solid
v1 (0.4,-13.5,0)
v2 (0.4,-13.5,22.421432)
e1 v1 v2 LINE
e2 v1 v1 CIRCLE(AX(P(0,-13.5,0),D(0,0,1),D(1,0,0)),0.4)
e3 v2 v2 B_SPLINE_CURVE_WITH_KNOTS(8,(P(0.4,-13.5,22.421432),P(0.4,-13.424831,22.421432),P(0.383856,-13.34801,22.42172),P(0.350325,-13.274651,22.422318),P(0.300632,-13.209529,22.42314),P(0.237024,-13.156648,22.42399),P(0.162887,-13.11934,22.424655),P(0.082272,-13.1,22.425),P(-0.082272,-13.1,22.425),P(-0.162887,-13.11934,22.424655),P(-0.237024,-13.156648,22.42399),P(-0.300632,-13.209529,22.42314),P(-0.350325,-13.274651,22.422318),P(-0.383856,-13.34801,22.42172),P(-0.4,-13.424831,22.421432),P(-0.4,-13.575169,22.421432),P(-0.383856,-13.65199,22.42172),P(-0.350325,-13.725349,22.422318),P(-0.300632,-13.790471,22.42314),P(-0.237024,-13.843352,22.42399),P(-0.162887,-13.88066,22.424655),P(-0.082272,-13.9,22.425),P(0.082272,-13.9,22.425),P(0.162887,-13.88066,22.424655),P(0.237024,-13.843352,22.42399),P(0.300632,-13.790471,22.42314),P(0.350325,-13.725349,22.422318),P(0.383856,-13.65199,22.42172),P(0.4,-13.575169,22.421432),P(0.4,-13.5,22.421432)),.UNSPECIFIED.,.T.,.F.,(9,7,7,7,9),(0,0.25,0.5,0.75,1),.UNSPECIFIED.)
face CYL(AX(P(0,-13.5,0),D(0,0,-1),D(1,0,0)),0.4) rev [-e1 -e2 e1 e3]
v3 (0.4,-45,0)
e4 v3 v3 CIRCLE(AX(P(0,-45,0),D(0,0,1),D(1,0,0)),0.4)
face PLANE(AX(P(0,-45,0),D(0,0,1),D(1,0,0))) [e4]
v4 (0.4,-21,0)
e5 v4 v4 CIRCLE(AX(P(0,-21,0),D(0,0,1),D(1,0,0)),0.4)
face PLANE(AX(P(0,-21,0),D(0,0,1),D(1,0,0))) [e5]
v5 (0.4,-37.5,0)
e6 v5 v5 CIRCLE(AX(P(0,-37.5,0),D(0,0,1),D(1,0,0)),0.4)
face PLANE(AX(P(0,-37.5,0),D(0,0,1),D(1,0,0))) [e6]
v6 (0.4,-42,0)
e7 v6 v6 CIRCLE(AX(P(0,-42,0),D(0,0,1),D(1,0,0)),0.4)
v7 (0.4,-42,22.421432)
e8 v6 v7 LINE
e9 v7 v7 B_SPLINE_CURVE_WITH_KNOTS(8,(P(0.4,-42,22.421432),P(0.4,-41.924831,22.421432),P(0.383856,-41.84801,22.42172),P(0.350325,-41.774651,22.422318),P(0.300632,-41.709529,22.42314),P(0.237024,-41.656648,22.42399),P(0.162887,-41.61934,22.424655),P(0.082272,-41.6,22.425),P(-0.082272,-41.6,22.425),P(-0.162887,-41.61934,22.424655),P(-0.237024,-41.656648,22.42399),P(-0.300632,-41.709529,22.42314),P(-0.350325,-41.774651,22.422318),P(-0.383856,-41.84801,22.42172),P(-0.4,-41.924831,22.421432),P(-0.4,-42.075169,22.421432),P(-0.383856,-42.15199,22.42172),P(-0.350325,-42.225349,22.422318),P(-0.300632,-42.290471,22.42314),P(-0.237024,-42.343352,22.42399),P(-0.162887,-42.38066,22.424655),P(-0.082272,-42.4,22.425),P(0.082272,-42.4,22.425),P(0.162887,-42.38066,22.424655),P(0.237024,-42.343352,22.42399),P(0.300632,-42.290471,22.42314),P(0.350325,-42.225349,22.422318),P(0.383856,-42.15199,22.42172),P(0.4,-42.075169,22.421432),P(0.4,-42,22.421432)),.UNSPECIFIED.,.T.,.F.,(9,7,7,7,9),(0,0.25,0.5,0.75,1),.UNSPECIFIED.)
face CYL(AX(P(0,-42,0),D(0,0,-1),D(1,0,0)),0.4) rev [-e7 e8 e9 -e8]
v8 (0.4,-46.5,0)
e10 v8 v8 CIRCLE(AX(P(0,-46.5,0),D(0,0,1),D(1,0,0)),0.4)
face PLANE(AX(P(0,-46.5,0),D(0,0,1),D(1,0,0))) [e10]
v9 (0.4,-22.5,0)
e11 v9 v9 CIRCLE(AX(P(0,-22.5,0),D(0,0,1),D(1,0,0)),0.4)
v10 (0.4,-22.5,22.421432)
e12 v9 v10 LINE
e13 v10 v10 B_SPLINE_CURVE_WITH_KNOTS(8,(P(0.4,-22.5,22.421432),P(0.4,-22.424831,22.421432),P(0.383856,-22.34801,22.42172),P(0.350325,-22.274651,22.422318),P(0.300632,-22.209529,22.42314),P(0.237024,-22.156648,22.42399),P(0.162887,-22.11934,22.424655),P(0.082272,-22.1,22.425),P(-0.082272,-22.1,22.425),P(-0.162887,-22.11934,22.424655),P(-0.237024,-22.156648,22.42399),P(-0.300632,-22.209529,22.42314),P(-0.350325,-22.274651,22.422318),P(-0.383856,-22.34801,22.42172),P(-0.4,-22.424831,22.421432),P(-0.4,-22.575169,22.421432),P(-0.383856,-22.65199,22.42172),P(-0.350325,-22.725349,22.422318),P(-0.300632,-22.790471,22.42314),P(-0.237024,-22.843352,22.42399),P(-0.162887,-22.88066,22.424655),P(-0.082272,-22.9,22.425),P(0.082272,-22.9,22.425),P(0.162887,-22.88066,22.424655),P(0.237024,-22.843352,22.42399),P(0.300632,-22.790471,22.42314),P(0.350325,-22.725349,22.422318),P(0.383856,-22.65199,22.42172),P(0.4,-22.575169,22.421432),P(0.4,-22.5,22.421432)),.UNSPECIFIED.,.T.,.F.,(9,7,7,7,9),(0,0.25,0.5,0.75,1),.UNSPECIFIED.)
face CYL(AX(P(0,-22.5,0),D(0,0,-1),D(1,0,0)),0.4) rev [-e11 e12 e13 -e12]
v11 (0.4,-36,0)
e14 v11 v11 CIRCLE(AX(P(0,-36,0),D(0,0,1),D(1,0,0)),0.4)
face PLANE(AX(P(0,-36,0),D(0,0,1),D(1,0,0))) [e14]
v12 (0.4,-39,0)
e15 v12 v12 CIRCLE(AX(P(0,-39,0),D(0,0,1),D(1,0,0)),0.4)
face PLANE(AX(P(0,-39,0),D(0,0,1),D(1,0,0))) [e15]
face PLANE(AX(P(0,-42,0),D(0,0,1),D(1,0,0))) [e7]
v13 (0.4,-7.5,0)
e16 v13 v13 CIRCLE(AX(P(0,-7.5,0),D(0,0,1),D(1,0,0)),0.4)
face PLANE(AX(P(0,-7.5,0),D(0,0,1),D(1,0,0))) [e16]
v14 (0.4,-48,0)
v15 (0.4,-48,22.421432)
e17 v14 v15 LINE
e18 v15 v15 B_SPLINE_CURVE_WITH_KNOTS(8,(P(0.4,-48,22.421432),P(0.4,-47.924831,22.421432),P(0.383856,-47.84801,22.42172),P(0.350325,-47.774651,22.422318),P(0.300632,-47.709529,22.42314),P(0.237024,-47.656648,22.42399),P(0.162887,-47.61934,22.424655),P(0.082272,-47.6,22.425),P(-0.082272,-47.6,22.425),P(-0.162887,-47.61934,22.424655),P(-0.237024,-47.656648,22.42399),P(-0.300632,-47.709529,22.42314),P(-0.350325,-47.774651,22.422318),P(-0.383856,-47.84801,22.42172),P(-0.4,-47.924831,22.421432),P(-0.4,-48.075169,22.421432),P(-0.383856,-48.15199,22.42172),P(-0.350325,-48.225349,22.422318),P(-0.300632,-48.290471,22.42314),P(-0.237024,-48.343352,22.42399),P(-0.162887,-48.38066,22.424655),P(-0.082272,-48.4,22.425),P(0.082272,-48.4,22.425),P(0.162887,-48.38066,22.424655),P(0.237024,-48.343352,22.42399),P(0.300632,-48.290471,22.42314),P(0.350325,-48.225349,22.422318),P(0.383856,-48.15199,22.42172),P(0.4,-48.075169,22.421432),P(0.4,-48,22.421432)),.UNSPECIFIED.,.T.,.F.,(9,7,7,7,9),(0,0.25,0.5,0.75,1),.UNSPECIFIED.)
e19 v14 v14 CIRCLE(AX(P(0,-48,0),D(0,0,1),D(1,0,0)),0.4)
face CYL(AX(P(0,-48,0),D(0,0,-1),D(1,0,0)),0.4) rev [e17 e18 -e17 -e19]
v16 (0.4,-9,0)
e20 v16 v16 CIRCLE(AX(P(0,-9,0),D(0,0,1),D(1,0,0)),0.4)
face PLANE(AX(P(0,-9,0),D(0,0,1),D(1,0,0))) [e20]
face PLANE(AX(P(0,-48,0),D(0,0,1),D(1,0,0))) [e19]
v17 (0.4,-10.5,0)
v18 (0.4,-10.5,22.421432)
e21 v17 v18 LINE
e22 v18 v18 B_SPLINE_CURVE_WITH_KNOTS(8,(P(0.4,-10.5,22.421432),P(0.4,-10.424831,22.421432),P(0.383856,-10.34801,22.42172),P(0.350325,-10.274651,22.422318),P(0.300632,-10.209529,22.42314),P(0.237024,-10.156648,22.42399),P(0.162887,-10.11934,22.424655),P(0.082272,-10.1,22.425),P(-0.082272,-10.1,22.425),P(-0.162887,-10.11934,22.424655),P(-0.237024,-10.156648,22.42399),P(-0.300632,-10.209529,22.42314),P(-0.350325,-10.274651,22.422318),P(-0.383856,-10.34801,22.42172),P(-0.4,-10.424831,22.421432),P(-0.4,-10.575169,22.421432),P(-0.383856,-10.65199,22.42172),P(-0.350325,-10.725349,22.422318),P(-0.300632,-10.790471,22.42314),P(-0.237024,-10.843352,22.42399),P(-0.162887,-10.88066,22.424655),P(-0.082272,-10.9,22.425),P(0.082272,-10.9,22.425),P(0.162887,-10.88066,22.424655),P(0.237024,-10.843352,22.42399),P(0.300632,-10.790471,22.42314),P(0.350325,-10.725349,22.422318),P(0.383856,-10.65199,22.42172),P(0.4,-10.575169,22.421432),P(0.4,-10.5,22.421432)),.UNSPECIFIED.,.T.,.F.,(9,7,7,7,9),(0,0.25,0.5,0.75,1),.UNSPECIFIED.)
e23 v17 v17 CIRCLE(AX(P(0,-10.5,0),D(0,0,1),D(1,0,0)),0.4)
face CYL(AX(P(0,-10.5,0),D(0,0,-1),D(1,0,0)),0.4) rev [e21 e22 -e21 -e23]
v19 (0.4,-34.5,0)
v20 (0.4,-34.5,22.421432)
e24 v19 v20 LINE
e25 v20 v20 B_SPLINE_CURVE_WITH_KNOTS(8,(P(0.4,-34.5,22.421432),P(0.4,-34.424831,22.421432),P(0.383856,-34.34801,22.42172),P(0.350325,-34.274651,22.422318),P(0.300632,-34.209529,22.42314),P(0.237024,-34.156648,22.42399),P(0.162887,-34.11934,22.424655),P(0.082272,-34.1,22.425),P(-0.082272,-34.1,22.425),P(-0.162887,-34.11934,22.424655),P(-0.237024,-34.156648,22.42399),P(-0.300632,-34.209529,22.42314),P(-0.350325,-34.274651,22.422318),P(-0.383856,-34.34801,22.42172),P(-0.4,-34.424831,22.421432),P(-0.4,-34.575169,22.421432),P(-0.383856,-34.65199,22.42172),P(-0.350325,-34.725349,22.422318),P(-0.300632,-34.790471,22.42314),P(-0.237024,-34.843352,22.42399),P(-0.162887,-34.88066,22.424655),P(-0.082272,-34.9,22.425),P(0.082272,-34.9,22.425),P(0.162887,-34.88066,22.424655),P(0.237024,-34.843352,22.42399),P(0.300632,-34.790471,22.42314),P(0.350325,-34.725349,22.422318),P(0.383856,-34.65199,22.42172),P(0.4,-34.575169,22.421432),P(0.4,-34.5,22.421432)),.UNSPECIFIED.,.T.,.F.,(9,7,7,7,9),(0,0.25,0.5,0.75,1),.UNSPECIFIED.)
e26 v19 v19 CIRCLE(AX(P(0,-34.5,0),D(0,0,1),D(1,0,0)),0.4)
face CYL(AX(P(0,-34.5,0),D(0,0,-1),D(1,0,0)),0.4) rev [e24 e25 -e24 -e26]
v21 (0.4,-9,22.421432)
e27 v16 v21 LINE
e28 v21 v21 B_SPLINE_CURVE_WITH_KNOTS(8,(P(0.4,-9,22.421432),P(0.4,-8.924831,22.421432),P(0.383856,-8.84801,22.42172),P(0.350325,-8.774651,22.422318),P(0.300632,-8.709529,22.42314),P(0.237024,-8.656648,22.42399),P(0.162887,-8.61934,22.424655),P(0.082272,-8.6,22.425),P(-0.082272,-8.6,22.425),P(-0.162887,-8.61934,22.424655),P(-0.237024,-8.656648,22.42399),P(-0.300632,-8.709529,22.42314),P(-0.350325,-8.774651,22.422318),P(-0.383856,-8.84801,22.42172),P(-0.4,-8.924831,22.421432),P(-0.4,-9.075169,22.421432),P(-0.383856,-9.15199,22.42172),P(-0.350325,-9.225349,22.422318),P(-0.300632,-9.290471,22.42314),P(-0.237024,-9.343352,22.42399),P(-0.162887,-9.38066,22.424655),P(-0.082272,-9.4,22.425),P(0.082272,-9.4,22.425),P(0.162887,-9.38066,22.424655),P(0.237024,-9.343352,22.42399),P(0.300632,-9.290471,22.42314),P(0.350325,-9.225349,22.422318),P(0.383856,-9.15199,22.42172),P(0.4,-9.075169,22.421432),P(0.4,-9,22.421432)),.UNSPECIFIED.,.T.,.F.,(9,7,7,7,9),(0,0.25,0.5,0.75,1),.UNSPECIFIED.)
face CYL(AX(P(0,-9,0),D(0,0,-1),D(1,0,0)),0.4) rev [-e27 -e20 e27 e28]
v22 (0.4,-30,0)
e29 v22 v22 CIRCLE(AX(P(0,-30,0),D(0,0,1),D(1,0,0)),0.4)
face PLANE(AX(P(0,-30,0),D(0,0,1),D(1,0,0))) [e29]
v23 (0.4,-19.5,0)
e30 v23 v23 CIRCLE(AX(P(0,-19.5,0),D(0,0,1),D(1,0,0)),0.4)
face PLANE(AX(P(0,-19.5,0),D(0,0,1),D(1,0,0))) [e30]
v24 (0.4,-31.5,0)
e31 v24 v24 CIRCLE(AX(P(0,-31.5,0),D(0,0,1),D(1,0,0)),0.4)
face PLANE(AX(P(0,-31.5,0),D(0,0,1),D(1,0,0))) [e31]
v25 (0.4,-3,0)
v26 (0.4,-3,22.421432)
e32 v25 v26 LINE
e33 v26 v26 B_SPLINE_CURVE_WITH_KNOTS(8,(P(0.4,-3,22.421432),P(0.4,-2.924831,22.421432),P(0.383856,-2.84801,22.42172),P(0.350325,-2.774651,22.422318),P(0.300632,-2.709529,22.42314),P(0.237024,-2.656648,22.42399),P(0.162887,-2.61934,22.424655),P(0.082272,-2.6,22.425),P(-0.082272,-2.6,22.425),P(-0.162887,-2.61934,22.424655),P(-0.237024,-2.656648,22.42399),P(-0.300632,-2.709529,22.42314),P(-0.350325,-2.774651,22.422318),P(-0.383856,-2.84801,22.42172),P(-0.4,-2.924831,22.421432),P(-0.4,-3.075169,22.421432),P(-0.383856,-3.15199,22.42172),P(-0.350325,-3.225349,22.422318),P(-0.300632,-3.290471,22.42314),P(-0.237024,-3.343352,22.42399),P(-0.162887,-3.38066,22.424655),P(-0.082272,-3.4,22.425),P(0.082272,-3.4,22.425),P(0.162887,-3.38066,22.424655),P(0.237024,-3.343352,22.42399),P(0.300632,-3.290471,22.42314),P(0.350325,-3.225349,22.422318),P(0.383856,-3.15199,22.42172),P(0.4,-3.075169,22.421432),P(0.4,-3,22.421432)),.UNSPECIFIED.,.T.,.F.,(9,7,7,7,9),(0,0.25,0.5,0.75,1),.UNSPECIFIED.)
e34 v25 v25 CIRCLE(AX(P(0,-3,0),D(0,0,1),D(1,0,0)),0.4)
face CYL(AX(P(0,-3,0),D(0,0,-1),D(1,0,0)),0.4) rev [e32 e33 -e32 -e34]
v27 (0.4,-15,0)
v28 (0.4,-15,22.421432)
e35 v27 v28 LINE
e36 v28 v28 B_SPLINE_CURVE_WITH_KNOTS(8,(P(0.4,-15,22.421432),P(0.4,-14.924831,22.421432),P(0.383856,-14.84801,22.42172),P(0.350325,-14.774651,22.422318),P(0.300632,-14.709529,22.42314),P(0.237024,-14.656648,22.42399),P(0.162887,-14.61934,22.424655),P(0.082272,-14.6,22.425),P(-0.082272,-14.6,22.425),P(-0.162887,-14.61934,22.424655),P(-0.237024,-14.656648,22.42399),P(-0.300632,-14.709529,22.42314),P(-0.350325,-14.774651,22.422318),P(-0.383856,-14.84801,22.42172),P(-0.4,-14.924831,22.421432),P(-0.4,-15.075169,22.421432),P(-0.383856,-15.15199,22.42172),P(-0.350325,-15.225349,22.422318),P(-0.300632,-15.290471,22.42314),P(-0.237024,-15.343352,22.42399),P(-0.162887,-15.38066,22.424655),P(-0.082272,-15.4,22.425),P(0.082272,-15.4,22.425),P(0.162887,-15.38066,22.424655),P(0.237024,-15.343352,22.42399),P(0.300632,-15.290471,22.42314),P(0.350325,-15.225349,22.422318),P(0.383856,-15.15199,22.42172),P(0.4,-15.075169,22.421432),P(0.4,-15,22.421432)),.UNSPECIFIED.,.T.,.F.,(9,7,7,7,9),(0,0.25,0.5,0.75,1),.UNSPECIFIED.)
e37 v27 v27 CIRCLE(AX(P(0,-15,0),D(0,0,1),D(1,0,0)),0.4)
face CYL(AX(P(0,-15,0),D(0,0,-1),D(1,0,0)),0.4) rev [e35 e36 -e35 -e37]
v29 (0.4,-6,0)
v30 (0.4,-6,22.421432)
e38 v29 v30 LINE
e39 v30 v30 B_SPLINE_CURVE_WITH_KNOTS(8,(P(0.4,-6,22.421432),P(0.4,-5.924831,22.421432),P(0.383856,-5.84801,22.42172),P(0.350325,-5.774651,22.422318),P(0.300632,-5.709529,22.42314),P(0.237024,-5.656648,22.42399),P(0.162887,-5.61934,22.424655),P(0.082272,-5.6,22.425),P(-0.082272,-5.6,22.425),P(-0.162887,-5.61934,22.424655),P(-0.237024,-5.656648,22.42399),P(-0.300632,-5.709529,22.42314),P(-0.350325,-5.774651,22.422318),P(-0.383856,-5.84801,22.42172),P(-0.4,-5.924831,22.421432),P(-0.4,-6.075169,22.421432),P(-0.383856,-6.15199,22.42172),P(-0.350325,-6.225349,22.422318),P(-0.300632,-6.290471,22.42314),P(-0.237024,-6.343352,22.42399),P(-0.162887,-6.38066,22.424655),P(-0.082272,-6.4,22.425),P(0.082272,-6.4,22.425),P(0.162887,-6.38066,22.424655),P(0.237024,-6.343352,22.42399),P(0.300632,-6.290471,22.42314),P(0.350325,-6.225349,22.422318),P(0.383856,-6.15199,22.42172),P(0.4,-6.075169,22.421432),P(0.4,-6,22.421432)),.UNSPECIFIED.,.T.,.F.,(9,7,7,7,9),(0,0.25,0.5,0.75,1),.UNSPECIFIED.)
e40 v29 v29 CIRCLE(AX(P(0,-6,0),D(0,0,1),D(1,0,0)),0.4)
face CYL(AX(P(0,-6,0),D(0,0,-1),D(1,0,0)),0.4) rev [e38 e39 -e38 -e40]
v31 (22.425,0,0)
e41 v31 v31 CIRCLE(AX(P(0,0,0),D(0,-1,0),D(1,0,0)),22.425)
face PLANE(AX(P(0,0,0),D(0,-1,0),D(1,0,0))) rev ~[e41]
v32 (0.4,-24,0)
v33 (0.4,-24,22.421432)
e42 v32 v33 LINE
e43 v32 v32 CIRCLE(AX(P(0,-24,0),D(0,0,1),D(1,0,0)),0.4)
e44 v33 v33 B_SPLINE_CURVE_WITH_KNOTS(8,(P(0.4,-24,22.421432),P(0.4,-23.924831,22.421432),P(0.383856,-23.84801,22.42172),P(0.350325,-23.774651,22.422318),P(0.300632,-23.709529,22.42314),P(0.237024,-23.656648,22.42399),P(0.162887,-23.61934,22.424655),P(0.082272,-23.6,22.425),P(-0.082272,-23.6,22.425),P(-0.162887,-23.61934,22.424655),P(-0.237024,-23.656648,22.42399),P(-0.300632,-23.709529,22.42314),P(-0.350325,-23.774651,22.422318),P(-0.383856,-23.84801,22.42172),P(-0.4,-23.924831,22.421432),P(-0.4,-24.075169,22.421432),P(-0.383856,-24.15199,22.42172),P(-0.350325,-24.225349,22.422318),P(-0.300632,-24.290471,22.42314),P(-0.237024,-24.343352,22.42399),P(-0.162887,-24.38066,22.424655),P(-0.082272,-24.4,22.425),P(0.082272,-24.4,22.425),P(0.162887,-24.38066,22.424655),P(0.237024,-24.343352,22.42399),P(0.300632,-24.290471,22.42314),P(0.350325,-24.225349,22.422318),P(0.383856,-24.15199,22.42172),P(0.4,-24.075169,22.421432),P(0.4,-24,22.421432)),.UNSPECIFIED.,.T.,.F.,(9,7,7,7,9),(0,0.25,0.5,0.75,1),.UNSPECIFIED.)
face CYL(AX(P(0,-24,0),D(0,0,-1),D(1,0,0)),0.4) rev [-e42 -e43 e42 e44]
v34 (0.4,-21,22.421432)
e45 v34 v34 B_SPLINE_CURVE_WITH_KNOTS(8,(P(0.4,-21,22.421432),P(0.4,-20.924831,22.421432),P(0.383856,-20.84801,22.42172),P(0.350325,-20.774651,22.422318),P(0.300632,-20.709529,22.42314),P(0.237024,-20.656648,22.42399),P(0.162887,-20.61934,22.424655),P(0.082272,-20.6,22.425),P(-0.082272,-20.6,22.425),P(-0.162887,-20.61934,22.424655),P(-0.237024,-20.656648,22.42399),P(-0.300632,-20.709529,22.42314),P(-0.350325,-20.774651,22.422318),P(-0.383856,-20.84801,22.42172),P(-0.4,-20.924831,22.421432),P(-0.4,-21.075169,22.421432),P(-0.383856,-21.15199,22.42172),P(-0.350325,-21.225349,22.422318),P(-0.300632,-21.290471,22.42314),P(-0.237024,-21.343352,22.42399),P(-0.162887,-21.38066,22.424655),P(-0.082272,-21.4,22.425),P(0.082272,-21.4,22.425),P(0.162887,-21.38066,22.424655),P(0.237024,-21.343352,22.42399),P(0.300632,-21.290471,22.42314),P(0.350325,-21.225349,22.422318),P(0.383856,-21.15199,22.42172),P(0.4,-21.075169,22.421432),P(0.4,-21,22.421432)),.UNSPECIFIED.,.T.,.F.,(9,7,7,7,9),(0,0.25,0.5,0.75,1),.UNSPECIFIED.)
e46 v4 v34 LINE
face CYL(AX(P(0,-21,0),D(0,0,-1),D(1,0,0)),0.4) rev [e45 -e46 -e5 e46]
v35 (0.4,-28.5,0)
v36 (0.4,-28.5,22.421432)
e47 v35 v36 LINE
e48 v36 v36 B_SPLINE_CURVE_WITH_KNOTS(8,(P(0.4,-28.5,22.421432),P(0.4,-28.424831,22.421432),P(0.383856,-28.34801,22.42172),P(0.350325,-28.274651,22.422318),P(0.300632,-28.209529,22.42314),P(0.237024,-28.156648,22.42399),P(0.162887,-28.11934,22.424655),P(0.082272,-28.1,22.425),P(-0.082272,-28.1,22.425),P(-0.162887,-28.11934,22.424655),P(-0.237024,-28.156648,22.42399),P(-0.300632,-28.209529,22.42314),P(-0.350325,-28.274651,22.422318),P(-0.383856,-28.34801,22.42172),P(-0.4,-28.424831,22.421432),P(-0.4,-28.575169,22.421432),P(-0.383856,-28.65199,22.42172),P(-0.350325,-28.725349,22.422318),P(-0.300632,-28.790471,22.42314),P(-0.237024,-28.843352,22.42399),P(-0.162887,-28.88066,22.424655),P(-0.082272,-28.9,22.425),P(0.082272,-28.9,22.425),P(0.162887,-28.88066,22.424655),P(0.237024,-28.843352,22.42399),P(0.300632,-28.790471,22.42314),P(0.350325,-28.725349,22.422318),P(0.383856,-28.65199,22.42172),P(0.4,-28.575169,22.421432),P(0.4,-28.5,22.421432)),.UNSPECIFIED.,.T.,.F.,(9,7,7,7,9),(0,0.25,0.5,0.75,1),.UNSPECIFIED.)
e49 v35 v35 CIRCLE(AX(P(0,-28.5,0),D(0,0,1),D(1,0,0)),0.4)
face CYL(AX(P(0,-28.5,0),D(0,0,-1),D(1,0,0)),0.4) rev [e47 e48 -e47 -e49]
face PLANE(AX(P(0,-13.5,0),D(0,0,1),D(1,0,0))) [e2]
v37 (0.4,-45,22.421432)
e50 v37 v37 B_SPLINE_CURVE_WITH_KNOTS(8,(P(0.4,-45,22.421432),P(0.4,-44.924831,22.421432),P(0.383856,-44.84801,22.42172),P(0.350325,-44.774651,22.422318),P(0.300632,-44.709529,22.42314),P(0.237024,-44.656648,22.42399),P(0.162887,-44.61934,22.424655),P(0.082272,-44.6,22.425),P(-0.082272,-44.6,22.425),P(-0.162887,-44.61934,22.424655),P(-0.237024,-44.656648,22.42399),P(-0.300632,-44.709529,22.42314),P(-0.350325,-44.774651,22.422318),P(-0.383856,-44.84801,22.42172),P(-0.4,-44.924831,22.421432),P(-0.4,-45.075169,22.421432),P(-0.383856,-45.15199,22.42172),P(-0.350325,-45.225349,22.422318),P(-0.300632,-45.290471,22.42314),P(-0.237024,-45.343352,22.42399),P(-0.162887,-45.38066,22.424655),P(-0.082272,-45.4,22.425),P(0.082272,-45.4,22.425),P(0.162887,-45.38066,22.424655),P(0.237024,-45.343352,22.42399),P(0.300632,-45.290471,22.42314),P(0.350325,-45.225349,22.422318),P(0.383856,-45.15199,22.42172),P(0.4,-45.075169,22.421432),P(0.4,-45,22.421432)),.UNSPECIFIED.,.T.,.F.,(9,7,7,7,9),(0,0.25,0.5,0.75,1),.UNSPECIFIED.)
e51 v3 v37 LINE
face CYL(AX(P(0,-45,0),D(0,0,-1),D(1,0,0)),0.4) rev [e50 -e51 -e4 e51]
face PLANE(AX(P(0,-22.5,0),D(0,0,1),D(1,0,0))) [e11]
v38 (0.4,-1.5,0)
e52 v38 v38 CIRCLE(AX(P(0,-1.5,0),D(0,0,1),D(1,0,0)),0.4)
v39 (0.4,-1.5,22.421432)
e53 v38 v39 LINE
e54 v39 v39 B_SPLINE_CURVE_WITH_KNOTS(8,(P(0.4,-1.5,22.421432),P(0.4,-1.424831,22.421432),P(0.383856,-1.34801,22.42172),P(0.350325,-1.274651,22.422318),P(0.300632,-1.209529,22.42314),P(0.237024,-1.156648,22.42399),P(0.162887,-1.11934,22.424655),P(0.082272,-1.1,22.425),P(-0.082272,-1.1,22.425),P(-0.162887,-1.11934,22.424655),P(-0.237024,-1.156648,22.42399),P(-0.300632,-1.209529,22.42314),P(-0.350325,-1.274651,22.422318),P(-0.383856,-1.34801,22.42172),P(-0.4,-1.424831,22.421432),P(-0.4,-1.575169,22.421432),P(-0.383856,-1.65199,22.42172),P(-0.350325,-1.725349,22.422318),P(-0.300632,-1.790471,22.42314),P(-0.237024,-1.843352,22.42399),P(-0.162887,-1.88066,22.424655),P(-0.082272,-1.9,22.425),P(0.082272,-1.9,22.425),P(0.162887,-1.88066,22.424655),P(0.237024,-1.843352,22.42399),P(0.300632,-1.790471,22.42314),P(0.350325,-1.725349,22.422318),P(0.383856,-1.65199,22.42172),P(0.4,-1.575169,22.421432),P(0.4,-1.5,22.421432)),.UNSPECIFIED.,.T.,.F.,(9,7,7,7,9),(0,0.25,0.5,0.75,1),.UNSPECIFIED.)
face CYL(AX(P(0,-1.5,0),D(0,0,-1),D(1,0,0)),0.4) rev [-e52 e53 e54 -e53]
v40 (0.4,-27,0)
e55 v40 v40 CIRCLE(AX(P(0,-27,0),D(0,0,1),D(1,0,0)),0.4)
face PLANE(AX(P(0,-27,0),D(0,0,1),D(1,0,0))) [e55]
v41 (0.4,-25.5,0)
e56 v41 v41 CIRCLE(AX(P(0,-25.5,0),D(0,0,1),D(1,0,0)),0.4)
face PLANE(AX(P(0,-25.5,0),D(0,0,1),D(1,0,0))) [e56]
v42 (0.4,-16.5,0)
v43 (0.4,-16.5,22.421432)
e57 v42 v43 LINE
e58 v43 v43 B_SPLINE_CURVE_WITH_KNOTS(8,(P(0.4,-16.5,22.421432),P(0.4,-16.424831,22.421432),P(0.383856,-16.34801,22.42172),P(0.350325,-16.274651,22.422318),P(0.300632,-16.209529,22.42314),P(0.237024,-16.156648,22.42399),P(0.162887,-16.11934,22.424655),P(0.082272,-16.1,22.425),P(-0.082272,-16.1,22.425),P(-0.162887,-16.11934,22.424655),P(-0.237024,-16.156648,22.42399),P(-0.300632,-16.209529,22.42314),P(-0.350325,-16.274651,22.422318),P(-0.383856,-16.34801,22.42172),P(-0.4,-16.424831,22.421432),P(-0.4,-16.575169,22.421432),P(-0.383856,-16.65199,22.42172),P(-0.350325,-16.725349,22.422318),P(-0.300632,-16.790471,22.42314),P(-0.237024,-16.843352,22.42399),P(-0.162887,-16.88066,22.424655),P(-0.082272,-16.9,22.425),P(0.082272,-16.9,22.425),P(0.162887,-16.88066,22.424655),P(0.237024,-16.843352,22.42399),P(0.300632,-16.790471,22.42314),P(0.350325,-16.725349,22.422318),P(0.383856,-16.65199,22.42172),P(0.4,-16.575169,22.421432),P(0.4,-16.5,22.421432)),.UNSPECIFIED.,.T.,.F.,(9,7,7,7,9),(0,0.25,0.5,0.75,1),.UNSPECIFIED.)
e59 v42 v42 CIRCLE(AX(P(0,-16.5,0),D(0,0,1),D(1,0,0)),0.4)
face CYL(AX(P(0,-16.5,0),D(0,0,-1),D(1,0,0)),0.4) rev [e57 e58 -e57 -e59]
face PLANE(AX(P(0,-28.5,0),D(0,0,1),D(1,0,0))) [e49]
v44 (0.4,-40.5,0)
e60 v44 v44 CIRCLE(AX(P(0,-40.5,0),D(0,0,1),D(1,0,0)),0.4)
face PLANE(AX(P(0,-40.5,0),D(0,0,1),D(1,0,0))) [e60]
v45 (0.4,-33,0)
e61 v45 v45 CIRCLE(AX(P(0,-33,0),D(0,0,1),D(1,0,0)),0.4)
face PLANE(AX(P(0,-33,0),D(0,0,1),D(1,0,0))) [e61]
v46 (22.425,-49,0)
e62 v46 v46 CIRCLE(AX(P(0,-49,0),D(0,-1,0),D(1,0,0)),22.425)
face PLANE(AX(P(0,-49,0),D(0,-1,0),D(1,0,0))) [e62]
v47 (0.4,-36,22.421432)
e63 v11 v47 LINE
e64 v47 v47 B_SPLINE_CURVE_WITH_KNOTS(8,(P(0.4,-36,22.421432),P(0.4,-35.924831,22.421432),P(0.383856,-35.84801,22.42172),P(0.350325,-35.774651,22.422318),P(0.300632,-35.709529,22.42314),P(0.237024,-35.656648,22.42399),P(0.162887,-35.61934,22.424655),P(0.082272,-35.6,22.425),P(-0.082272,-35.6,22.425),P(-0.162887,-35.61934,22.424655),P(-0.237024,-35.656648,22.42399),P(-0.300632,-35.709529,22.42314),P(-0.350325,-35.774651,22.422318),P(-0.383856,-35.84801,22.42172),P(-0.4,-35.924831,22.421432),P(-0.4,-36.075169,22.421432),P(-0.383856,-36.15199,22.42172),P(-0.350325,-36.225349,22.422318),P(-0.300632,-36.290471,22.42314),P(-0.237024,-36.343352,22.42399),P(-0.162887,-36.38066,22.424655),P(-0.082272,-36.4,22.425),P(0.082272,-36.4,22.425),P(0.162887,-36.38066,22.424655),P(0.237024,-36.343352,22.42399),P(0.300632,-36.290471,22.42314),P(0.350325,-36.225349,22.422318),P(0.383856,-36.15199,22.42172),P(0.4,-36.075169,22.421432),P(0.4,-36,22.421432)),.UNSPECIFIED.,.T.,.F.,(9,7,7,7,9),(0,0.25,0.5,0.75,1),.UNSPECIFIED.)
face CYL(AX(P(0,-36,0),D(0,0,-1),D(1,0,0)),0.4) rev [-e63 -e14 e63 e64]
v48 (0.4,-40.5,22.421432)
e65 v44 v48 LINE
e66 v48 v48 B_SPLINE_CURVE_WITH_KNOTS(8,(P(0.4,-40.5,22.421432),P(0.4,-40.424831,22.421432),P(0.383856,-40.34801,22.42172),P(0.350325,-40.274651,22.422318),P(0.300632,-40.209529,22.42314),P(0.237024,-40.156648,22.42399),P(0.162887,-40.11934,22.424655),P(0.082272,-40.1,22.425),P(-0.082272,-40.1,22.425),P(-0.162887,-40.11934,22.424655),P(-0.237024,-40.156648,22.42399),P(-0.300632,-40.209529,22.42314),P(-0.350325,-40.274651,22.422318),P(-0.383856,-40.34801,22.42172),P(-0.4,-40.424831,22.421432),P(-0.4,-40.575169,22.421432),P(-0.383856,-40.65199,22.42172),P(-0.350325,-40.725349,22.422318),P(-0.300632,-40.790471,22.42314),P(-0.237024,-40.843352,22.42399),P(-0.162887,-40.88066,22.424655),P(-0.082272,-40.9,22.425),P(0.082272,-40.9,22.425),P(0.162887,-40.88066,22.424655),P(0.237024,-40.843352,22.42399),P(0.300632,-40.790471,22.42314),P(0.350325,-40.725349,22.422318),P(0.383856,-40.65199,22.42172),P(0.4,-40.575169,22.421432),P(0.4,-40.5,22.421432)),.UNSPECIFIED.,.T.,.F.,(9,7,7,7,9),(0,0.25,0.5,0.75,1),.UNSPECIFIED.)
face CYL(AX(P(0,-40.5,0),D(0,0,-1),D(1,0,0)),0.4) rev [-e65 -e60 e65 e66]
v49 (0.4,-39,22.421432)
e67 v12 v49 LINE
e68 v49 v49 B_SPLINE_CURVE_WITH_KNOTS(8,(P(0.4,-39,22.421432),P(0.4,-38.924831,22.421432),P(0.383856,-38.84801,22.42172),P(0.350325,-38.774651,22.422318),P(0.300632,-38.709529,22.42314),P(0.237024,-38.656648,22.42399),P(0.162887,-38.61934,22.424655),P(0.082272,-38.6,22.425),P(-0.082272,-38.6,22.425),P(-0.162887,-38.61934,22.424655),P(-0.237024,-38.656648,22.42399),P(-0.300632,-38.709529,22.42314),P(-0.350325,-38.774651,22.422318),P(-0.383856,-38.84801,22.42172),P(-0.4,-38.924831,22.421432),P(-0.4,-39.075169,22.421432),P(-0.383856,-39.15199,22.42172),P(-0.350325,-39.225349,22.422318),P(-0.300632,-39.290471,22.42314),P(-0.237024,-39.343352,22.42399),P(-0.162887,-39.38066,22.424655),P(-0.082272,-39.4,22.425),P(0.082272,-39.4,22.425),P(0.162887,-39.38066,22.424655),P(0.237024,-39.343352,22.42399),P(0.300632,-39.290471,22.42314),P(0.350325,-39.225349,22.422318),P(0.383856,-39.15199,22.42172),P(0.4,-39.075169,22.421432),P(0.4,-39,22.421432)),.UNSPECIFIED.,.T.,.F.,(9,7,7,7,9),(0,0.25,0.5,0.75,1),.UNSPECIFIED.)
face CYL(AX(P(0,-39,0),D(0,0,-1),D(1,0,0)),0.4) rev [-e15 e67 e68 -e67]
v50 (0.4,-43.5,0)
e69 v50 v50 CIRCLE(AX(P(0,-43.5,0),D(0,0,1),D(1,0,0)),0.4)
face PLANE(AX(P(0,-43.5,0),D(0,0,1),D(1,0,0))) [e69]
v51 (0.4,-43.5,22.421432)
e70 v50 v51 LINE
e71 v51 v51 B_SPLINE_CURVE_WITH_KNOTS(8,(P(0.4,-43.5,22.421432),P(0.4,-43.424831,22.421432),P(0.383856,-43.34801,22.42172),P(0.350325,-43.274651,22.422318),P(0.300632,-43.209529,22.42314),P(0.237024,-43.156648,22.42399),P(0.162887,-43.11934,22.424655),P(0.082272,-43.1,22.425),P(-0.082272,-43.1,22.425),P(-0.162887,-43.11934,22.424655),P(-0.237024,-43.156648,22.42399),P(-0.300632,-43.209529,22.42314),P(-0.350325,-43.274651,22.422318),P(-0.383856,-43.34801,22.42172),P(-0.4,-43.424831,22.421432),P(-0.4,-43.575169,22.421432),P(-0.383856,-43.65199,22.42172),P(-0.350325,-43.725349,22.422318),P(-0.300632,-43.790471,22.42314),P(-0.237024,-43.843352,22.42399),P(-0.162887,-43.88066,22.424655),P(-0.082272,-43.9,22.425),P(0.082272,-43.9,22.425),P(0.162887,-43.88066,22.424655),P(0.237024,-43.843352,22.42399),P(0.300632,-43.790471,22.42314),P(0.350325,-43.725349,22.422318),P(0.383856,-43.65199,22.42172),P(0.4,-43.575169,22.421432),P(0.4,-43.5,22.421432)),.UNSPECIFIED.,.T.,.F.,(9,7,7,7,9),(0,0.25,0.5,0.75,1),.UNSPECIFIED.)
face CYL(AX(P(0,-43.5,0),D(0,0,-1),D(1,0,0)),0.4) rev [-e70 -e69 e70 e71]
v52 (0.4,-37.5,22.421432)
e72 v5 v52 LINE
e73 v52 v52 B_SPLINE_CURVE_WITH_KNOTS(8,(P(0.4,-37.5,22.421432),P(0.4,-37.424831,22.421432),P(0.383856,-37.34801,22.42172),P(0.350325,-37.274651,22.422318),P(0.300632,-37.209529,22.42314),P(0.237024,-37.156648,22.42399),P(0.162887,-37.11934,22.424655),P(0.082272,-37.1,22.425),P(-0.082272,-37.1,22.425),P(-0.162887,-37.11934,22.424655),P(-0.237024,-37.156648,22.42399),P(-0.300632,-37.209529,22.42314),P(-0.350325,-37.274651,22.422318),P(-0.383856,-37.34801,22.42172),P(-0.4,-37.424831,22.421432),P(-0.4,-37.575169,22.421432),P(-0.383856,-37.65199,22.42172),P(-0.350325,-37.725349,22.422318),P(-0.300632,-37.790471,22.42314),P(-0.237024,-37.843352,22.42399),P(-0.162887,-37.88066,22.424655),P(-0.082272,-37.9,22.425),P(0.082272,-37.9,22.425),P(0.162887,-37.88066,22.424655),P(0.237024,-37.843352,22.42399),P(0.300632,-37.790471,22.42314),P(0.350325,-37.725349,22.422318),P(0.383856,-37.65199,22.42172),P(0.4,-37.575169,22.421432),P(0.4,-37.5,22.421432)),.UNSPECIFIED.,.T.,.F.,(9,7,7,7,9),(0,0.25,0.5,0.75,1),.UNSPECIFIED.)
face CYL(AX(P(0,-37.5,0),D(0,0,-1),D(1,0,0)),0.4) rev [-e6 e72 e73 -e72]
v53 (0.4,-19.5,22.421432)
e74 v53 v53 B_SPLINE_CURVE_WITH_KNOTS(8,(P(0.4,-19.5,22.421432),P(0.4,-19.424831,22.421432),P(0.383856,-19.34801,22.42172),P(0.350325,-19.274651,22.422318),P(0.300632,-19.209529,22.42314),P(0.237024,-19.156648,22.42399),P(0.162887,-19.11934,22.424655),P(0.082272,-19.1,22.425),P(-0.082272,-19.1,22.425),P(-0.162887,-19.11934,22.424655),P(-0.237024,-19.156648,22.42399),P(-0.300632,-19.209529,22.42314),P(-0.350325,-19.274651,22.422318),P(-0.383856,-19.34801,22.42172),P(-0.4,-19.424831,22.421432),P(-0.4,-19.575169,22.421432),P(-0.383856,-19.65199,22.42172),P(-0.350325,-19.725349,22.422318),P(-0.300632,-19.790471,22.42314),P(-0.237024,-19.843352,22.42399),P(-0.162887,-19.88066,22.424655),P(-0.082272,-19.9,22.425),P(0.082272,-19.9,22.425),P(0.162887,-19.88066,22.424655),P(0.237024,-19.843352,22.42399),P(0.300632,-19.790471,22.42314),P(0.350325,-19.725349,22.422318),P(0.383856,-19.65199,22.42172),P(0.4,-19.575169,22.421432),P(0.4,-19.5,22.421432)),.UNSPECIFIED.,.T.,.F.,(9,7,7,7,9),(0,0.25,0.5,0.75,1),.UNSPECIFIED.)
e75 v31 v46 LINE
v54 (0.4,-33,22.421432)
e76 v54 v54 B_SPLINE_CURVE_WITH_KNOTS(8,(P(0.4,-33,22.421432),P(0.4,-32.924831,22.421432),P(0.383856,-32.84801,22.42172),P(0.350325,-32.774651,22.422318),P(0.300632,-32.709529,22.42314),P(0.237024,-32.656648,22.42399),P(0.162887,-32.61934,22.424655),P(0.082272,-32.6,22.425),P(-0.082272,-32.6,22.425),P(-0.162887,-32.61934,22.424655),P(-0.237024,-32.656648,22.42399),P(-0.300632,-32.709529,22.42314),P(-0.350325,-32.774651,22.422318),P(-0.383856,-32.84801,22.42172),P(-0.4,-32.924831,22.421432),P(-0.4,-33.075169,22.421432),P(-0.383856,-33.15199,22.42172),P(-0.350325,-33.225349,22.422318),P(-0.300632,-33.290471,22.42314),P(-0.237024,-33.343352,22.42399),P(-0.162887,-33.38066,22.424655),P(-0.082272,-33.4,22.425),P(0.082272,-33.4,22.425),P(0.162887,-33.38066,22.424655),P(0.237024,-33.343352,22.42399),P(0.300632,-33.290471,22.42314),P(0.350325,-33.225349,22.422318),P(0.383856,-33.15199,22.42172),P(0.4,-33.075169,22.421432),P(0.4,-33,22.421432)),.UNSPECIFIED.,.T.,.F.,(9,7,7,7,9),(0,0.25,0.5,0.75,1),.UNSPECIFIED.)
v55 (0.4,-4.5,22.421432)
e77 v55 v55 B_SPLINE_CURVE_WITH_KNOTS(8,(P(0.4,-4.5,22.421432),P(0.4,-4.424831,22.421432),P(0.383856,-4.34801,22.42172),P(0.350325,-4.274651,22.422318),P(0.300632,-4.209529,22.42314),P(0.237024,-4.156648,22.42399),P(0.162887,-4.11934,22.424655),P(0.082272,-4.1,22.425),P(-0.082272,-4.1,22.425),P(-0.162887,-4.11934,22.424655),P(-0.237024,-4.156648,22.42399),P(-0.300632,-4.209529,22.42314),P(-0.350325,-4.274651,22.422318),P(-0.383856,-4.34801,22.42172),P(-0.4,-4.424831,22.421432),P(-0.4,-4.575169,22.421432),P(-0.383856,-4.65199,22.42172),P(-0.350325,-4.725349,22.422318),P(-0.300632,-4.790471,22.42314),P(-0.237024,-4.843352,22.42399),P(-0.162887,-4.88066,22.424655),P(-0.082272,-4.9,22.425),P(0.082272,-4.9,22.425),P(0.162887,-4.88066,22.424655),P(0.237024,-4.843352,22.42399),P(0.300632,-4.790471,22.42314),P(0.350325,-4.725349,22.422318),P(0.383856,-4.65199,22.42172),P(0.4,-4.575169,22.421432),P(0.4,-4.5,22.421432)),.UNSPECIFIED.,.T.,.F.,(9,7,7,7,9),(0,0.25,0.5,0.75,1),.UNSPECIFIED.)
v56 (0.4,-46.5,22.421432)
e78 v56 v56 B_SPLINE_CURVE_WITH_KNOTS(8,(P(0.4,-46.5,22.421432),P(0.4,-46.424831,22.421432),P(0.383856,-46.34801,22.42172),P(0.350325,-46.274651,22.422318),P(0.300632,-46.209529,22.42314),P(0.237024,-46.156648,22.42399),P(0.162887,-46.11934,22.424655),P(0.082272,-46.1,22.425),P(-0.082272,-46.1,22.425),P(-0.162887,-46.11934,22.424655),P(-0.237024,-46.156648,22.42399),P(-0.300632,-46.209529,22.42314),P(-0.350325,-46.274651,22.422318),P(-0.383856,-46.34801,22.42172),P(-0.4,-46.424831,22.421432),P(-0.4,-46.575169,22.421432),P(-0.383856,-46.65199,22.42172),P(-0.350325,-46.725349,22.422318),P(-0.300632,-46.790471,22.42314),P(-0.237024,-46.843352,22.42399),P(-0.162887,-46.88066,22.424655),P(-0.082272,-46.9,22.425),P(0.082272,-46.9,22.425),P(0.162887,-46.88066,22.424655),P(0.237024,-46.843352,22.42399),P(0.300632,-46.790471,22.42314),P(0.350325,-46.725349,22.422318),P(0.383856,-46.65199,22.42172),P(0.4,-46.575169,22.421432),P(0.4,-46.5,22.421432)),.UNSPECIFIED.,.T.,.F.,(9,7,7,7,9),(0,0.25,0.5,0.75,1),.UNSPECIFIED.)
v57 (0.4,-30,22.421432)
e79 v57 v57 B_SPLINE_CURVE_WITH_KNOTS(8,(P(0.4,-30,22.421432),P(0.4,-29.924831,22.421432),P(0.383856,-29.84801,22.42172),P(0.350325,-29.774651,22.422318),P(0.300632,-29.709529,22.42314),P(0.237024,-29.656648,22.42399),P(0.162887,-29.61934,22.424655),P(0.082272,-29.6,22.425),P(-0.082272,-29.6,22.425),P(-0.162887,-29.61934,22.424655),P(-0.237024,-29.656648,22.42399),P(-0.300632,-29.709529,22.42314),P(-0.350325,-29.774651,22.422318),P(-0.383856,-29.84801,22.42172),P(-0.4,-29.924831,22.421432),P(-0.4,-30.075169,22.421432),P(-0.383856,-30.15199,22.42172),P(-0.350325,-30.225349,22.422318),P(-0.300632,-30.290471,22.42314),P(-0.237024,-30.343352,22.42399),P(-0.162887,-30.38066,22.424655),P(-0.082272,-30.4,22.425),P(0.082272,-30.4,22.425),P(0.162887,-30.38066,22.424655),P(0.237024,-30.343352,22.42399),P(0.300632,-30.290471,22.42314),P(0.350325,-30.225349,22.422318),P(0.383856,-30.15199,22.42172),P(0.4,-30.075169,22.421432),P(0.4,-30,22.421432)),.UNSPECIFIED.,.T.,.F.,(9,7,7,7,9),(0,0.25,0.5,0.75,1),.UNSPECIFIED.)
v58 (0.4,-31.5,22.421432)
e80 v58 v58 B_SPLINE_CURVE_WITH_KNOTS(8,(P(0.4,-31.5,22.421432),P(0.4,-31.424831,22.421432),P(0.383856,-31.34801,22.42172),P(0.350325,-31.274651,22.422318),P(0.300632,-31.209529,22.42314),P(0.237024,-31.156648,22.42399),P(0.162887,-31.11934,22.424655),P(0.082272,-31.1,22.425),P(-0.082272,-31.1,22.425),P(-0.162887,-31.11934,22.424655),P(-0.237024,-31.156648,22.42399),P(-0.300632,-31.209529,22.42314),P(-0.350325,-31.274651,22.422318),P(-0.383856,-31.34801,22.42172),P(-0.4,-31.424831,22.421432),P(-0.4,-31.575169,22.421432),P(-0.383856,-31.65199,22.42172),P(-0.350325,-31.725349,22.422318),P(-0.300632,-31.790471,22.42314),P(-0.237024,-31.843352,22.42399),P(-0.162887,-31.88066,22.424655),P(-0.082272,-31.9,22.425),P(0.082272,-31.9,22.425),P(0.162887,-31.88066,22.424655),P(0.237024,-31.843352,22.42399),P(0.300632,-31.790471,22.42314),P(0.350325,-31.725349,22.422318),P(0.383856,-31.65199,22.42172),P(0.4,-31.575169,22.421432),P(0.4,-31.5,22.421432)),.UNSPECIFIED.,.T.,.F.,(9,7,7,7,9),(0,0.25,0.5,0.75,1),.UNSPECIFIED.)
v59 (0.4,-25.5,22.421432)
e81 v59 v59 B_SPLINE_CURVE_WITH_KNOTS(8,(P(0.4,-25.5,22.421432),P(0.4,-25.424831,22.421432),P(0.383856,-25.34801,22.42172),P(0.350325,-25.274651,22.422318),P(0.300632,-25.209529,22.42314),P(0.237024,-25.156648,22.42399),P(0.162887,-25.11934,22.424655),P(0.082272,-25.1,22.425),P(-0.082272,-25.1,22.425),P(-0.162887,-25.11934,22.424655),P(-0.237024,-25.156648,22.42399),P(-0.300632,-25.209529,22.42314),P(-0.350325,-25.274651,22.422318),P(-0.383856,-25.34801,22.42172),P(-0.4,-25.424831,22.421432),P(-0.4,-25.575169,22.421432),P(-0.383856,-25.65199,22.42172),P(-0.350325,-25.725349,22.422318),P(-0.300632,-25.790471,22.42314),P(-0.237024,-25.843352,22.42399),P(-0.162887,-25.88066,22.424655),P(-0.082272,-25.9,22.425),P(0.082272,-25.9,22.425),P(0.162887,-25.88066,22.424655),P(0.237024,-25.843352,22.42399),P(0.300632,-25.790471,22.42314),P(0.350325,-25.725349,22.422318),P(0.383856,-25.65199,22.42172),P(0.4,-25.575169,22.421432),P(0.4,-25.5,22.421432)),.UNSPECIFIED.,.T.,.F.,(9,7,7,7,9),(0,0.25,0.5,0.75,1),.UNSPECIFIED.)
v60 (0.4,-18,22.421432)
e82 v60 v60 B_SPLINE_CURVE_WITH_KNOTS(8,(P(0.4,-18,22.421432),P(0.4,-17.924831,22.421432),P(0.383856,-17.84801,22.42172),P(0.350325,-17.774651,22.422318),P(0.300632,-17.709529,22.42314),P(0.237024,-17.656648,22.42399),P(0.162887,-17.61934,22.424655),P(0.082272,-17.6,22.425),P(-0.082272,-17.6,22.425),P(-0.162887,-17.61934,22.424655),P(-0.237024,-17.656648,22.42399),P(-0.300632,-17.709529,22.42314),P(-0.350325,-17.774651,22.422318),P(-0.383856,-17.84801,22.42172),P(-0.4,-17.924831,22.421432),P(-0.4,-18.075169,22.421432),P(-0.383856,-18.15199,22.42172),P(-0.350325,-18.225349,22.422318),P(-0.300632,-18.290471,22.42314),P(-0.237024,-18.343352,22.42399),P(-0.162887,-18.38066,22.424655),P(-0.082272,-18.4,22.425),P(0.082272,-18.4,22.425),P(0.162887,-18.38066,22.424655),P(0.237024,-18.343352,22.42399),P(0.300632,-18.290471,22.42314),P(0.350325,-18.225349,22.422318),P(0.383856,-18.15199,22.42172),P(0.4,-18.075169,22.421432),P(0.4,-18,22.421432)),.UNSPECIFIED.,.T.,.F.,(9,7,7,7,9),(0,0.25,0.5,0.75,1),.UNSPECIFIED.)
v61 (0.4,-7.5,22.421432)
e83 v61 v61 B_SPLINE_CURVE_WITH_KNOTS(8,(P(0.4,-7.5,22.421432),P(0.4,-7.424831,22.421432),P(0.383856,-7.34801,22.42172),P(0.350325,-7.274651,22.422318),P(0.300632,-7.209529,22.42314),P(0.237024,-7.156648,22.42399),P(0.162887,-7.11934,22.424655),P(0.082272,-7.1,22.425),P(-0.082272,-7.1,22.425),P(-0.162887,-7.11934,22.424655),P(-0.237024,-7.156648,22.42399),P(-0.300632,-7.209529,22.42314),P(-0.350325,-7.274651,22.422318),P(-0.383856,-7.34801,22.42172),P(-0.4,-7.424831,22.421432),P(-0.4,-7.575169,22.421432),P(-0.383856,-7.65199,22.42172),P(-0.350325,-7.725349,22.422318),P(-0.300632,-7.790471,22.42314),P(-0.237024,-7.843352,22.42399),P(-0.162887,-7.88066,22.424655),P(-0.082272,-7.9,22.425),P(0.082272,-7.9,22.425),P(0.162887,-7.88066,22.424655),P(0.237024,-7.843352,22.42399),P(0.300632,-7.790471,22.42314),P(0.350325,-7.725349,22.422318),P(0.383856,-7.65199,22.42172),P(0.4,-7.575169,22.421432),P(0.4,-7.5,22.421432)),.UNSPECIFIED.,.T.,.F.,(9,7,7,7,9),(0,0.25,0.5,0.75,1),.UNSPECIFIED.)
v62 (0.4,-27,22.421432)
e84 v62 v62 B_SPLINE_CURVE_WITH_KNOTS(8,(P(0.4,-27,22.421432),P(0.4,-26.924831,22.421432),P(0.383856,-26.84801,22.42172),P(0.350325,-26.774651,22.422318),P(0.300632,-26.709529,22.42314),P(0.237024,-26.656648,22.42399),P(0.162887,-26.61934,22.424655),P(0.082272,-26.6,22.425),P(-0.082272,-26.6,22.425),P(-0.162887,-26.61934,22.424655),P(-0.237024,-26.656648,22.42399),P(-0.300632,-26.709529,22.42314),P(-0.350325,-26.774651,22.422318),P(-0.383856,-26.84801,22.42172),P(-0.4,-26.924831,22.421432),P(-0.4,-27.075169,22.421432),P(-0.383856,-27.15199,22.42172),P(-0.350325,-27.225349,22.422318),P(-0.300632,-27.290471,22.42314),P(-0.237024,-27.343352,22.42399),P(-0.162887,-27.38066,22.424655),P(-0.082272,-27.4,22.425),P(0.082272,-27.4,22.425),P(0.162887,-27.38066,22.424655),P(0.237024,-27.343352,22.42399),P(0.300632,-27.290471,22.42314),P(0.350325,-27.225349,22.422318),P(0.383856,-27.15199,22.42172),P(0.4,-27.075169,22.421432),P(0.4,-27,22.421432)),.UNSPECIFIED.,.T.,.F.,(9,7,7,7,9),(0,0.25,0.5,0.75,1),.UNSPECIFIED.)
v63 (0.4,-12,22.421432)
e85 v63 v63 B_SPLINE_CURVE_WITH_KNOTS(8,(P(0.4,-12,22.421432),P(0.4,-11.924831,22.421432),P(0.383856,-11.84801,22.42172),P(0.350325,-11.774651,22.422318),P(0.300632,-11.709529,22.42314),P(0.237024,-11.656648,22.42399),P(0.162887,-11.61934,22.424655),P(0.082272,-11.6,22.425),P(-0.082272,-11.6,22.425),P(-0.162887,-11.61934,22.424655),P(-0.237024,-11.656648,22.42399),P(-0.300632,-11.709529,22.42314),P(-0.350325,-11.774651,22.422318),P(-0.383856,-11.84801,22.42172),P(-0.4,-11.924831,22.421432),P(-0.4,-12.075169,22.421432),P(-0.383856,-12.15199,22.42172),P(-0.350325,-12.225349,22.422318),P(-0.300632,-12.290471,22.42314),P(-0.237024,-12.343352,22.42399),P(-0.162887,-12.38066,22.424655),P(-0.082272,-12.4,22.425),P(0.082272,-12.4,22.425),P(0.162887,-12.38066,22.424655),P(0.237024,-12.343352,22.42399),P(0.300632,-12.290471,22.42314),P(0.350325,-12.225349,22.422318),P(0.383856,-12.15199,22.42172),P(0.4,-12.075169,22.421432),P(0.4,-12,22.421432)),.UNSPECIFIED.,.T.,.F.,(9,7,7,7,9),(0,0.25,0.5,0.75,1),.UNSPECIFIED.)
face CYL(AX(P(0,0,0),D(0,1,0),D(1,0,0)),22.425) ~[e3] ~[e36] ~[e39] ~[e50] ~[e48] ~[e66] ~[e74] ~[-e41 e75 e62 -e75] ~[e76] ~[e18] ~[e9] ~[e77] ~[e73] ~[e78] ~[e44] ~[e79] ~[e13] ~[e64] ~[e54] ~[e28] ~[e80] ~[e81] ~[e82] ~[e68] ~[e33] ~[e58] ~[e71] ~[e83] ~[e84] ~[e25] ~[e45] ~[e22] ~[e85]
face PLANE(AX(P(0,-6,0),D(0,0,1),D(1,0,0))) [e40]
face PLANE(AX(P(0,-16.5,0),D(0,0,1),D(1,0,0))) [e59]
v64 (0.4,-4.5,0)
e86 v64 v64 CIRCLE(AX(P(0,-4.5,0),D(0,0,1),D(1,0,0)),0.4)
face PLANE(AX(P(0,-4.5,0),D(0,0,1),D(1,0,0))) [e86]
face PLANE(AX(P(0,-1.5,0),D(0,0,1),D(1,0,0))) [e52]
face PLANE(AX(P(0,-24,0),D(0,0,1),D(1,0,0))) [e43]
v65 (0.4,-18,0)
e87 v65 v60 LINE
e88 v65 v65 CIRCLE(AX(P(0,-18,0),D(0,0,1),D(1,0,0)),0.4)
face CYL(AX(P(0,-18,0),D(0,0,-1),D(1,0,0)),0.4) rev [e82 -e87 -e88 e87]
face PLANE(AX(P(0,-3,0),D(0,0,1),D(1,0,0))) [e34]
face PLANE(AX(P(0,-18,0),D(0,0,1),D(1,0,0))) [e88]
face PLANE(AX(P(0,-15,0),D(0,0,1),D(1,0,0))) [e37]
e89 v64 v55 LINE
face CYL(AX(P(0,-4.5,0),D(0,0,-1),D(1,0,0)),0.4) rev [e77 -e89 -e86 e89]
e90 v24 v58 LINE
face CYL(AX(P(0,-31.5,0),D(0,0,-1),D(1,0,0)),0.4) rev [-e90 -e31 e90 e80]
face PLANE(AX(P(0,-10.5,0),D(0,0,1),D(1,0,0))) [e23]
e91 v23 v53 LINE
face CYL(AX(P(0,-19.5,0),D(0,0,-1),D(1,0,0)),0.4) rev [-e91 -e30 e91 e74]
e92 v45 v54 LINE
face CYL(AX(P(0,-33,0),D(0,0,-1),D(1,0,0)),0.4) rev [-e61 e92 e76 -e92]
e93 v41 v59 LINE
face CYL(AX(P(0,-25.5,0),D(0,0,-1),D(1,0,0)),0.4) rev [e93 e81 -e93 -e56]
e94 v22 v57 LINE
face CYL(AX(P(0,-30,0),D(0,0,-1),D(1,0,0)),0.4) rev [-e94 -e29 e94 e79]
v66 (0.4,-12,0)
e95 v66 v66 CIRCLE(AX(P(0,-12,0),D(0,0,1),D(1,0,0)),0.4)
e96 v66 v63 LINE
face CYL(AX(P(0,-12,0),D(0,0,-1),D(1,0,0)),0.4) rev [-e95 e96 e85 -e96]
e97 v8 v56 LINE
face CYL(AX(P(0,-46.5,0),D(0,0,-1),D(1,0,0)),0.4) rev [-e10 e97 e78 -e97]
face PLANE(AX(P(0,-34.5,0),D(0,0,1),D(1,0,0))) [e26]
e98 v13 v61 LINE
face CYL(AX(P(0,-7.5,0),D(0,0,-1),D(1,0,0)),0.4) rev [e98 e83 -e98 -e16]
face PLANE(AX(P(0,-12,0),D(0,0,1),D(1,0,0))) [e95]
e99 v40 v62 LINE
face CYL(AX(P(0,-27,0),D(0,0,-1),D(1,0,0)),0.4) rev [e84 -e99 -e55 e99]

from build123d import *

# Parameters (mm, degrees)
F0_R     = 22.425
F1_DEPTH = 49
F2_R     = 0.4
F3_DEPTH = 31


with BuildPart() as f1:
    # F0 (on Front) → F1 (new body)
    with BuildSketch(Plane.XZ):
        Circle(F0_R)
    extrude(amount=F1_DEPTH)

    # F2 (on Top) → F3 (cut)
    with BuildSketch(Plane.XY):
        with Locations((0, -1.5)):
            Circle(F2_R)
        with Locations((0, -3)):
            Circle(F2_R)
        with Locations((0, -4.5)):
            Circle(F2_R)
        with Locations((0, -6)):
            Circle(F2_R)
        with Locations((0, -7.5)):
            Circle(F2_R)
        with Locations((0, -9)):
            Circle(F2_R)
        with Locations((0, -10.5)):
            Circle(F2_R)
        with Locations((0, -12)):
            Circle(F2_R)
        with Locations((0, -13.5)):
            Circle(F2_R)
        with Locations((0, -15)):
            Circle(F2_R)
        with Locations((0, -16.5)):
            Circle(F2_R)
        with Locations((0, -18)):
            Circle(F2_R)
        with Locations((0, -19.5)):
            Circle(F2_R)
        with Locations((0, -21)):
            Circle(F2_R)
        with Locations((0, -22.5)):
            Circle(F2_R)
        with Locations((0, -24)):
            Circle(F2_R)
        with Locations((0, -25.5)):
            Circle(F2_R)
        with Locations((0, -27)):
            Circle(F2_R)
        with Locations((0, -28.5)):
            Circle(F2_R)
        with Locations((0, -30)):
            Circle(F2_R)
        with Locations((0, -31.5)):
            Circle(F2_R)
        with Locations((0, -33)):
            Circle(F2_R)
        with Locations((0, -34.5)):
            Circle(F2_R)
        with Locations((0, -36)):
            Circle(F2_R)
        with Locations((0, -37.5)):
            Circle(F2_R)
        with Locations((0, -39)):
            Circle(F2_R)
        with Locations((0, -40.5)):
            Circle(F2_R)
        with Locations((0, -42)):
            Circle(F2_R)
        with Locations((0, -43.5)):
            Circle(F2_R)
        with Locations((0, -45)):
            Circle(F2_R)
        with Locations((0, -46.5)):
            Circle(F2_R)
        with Locations((0, -48)):
            Circle(F2_R)
    extrude(amount=F3_DEPTH, mode=Mode.SUBTRACT)


solid = f1.part
